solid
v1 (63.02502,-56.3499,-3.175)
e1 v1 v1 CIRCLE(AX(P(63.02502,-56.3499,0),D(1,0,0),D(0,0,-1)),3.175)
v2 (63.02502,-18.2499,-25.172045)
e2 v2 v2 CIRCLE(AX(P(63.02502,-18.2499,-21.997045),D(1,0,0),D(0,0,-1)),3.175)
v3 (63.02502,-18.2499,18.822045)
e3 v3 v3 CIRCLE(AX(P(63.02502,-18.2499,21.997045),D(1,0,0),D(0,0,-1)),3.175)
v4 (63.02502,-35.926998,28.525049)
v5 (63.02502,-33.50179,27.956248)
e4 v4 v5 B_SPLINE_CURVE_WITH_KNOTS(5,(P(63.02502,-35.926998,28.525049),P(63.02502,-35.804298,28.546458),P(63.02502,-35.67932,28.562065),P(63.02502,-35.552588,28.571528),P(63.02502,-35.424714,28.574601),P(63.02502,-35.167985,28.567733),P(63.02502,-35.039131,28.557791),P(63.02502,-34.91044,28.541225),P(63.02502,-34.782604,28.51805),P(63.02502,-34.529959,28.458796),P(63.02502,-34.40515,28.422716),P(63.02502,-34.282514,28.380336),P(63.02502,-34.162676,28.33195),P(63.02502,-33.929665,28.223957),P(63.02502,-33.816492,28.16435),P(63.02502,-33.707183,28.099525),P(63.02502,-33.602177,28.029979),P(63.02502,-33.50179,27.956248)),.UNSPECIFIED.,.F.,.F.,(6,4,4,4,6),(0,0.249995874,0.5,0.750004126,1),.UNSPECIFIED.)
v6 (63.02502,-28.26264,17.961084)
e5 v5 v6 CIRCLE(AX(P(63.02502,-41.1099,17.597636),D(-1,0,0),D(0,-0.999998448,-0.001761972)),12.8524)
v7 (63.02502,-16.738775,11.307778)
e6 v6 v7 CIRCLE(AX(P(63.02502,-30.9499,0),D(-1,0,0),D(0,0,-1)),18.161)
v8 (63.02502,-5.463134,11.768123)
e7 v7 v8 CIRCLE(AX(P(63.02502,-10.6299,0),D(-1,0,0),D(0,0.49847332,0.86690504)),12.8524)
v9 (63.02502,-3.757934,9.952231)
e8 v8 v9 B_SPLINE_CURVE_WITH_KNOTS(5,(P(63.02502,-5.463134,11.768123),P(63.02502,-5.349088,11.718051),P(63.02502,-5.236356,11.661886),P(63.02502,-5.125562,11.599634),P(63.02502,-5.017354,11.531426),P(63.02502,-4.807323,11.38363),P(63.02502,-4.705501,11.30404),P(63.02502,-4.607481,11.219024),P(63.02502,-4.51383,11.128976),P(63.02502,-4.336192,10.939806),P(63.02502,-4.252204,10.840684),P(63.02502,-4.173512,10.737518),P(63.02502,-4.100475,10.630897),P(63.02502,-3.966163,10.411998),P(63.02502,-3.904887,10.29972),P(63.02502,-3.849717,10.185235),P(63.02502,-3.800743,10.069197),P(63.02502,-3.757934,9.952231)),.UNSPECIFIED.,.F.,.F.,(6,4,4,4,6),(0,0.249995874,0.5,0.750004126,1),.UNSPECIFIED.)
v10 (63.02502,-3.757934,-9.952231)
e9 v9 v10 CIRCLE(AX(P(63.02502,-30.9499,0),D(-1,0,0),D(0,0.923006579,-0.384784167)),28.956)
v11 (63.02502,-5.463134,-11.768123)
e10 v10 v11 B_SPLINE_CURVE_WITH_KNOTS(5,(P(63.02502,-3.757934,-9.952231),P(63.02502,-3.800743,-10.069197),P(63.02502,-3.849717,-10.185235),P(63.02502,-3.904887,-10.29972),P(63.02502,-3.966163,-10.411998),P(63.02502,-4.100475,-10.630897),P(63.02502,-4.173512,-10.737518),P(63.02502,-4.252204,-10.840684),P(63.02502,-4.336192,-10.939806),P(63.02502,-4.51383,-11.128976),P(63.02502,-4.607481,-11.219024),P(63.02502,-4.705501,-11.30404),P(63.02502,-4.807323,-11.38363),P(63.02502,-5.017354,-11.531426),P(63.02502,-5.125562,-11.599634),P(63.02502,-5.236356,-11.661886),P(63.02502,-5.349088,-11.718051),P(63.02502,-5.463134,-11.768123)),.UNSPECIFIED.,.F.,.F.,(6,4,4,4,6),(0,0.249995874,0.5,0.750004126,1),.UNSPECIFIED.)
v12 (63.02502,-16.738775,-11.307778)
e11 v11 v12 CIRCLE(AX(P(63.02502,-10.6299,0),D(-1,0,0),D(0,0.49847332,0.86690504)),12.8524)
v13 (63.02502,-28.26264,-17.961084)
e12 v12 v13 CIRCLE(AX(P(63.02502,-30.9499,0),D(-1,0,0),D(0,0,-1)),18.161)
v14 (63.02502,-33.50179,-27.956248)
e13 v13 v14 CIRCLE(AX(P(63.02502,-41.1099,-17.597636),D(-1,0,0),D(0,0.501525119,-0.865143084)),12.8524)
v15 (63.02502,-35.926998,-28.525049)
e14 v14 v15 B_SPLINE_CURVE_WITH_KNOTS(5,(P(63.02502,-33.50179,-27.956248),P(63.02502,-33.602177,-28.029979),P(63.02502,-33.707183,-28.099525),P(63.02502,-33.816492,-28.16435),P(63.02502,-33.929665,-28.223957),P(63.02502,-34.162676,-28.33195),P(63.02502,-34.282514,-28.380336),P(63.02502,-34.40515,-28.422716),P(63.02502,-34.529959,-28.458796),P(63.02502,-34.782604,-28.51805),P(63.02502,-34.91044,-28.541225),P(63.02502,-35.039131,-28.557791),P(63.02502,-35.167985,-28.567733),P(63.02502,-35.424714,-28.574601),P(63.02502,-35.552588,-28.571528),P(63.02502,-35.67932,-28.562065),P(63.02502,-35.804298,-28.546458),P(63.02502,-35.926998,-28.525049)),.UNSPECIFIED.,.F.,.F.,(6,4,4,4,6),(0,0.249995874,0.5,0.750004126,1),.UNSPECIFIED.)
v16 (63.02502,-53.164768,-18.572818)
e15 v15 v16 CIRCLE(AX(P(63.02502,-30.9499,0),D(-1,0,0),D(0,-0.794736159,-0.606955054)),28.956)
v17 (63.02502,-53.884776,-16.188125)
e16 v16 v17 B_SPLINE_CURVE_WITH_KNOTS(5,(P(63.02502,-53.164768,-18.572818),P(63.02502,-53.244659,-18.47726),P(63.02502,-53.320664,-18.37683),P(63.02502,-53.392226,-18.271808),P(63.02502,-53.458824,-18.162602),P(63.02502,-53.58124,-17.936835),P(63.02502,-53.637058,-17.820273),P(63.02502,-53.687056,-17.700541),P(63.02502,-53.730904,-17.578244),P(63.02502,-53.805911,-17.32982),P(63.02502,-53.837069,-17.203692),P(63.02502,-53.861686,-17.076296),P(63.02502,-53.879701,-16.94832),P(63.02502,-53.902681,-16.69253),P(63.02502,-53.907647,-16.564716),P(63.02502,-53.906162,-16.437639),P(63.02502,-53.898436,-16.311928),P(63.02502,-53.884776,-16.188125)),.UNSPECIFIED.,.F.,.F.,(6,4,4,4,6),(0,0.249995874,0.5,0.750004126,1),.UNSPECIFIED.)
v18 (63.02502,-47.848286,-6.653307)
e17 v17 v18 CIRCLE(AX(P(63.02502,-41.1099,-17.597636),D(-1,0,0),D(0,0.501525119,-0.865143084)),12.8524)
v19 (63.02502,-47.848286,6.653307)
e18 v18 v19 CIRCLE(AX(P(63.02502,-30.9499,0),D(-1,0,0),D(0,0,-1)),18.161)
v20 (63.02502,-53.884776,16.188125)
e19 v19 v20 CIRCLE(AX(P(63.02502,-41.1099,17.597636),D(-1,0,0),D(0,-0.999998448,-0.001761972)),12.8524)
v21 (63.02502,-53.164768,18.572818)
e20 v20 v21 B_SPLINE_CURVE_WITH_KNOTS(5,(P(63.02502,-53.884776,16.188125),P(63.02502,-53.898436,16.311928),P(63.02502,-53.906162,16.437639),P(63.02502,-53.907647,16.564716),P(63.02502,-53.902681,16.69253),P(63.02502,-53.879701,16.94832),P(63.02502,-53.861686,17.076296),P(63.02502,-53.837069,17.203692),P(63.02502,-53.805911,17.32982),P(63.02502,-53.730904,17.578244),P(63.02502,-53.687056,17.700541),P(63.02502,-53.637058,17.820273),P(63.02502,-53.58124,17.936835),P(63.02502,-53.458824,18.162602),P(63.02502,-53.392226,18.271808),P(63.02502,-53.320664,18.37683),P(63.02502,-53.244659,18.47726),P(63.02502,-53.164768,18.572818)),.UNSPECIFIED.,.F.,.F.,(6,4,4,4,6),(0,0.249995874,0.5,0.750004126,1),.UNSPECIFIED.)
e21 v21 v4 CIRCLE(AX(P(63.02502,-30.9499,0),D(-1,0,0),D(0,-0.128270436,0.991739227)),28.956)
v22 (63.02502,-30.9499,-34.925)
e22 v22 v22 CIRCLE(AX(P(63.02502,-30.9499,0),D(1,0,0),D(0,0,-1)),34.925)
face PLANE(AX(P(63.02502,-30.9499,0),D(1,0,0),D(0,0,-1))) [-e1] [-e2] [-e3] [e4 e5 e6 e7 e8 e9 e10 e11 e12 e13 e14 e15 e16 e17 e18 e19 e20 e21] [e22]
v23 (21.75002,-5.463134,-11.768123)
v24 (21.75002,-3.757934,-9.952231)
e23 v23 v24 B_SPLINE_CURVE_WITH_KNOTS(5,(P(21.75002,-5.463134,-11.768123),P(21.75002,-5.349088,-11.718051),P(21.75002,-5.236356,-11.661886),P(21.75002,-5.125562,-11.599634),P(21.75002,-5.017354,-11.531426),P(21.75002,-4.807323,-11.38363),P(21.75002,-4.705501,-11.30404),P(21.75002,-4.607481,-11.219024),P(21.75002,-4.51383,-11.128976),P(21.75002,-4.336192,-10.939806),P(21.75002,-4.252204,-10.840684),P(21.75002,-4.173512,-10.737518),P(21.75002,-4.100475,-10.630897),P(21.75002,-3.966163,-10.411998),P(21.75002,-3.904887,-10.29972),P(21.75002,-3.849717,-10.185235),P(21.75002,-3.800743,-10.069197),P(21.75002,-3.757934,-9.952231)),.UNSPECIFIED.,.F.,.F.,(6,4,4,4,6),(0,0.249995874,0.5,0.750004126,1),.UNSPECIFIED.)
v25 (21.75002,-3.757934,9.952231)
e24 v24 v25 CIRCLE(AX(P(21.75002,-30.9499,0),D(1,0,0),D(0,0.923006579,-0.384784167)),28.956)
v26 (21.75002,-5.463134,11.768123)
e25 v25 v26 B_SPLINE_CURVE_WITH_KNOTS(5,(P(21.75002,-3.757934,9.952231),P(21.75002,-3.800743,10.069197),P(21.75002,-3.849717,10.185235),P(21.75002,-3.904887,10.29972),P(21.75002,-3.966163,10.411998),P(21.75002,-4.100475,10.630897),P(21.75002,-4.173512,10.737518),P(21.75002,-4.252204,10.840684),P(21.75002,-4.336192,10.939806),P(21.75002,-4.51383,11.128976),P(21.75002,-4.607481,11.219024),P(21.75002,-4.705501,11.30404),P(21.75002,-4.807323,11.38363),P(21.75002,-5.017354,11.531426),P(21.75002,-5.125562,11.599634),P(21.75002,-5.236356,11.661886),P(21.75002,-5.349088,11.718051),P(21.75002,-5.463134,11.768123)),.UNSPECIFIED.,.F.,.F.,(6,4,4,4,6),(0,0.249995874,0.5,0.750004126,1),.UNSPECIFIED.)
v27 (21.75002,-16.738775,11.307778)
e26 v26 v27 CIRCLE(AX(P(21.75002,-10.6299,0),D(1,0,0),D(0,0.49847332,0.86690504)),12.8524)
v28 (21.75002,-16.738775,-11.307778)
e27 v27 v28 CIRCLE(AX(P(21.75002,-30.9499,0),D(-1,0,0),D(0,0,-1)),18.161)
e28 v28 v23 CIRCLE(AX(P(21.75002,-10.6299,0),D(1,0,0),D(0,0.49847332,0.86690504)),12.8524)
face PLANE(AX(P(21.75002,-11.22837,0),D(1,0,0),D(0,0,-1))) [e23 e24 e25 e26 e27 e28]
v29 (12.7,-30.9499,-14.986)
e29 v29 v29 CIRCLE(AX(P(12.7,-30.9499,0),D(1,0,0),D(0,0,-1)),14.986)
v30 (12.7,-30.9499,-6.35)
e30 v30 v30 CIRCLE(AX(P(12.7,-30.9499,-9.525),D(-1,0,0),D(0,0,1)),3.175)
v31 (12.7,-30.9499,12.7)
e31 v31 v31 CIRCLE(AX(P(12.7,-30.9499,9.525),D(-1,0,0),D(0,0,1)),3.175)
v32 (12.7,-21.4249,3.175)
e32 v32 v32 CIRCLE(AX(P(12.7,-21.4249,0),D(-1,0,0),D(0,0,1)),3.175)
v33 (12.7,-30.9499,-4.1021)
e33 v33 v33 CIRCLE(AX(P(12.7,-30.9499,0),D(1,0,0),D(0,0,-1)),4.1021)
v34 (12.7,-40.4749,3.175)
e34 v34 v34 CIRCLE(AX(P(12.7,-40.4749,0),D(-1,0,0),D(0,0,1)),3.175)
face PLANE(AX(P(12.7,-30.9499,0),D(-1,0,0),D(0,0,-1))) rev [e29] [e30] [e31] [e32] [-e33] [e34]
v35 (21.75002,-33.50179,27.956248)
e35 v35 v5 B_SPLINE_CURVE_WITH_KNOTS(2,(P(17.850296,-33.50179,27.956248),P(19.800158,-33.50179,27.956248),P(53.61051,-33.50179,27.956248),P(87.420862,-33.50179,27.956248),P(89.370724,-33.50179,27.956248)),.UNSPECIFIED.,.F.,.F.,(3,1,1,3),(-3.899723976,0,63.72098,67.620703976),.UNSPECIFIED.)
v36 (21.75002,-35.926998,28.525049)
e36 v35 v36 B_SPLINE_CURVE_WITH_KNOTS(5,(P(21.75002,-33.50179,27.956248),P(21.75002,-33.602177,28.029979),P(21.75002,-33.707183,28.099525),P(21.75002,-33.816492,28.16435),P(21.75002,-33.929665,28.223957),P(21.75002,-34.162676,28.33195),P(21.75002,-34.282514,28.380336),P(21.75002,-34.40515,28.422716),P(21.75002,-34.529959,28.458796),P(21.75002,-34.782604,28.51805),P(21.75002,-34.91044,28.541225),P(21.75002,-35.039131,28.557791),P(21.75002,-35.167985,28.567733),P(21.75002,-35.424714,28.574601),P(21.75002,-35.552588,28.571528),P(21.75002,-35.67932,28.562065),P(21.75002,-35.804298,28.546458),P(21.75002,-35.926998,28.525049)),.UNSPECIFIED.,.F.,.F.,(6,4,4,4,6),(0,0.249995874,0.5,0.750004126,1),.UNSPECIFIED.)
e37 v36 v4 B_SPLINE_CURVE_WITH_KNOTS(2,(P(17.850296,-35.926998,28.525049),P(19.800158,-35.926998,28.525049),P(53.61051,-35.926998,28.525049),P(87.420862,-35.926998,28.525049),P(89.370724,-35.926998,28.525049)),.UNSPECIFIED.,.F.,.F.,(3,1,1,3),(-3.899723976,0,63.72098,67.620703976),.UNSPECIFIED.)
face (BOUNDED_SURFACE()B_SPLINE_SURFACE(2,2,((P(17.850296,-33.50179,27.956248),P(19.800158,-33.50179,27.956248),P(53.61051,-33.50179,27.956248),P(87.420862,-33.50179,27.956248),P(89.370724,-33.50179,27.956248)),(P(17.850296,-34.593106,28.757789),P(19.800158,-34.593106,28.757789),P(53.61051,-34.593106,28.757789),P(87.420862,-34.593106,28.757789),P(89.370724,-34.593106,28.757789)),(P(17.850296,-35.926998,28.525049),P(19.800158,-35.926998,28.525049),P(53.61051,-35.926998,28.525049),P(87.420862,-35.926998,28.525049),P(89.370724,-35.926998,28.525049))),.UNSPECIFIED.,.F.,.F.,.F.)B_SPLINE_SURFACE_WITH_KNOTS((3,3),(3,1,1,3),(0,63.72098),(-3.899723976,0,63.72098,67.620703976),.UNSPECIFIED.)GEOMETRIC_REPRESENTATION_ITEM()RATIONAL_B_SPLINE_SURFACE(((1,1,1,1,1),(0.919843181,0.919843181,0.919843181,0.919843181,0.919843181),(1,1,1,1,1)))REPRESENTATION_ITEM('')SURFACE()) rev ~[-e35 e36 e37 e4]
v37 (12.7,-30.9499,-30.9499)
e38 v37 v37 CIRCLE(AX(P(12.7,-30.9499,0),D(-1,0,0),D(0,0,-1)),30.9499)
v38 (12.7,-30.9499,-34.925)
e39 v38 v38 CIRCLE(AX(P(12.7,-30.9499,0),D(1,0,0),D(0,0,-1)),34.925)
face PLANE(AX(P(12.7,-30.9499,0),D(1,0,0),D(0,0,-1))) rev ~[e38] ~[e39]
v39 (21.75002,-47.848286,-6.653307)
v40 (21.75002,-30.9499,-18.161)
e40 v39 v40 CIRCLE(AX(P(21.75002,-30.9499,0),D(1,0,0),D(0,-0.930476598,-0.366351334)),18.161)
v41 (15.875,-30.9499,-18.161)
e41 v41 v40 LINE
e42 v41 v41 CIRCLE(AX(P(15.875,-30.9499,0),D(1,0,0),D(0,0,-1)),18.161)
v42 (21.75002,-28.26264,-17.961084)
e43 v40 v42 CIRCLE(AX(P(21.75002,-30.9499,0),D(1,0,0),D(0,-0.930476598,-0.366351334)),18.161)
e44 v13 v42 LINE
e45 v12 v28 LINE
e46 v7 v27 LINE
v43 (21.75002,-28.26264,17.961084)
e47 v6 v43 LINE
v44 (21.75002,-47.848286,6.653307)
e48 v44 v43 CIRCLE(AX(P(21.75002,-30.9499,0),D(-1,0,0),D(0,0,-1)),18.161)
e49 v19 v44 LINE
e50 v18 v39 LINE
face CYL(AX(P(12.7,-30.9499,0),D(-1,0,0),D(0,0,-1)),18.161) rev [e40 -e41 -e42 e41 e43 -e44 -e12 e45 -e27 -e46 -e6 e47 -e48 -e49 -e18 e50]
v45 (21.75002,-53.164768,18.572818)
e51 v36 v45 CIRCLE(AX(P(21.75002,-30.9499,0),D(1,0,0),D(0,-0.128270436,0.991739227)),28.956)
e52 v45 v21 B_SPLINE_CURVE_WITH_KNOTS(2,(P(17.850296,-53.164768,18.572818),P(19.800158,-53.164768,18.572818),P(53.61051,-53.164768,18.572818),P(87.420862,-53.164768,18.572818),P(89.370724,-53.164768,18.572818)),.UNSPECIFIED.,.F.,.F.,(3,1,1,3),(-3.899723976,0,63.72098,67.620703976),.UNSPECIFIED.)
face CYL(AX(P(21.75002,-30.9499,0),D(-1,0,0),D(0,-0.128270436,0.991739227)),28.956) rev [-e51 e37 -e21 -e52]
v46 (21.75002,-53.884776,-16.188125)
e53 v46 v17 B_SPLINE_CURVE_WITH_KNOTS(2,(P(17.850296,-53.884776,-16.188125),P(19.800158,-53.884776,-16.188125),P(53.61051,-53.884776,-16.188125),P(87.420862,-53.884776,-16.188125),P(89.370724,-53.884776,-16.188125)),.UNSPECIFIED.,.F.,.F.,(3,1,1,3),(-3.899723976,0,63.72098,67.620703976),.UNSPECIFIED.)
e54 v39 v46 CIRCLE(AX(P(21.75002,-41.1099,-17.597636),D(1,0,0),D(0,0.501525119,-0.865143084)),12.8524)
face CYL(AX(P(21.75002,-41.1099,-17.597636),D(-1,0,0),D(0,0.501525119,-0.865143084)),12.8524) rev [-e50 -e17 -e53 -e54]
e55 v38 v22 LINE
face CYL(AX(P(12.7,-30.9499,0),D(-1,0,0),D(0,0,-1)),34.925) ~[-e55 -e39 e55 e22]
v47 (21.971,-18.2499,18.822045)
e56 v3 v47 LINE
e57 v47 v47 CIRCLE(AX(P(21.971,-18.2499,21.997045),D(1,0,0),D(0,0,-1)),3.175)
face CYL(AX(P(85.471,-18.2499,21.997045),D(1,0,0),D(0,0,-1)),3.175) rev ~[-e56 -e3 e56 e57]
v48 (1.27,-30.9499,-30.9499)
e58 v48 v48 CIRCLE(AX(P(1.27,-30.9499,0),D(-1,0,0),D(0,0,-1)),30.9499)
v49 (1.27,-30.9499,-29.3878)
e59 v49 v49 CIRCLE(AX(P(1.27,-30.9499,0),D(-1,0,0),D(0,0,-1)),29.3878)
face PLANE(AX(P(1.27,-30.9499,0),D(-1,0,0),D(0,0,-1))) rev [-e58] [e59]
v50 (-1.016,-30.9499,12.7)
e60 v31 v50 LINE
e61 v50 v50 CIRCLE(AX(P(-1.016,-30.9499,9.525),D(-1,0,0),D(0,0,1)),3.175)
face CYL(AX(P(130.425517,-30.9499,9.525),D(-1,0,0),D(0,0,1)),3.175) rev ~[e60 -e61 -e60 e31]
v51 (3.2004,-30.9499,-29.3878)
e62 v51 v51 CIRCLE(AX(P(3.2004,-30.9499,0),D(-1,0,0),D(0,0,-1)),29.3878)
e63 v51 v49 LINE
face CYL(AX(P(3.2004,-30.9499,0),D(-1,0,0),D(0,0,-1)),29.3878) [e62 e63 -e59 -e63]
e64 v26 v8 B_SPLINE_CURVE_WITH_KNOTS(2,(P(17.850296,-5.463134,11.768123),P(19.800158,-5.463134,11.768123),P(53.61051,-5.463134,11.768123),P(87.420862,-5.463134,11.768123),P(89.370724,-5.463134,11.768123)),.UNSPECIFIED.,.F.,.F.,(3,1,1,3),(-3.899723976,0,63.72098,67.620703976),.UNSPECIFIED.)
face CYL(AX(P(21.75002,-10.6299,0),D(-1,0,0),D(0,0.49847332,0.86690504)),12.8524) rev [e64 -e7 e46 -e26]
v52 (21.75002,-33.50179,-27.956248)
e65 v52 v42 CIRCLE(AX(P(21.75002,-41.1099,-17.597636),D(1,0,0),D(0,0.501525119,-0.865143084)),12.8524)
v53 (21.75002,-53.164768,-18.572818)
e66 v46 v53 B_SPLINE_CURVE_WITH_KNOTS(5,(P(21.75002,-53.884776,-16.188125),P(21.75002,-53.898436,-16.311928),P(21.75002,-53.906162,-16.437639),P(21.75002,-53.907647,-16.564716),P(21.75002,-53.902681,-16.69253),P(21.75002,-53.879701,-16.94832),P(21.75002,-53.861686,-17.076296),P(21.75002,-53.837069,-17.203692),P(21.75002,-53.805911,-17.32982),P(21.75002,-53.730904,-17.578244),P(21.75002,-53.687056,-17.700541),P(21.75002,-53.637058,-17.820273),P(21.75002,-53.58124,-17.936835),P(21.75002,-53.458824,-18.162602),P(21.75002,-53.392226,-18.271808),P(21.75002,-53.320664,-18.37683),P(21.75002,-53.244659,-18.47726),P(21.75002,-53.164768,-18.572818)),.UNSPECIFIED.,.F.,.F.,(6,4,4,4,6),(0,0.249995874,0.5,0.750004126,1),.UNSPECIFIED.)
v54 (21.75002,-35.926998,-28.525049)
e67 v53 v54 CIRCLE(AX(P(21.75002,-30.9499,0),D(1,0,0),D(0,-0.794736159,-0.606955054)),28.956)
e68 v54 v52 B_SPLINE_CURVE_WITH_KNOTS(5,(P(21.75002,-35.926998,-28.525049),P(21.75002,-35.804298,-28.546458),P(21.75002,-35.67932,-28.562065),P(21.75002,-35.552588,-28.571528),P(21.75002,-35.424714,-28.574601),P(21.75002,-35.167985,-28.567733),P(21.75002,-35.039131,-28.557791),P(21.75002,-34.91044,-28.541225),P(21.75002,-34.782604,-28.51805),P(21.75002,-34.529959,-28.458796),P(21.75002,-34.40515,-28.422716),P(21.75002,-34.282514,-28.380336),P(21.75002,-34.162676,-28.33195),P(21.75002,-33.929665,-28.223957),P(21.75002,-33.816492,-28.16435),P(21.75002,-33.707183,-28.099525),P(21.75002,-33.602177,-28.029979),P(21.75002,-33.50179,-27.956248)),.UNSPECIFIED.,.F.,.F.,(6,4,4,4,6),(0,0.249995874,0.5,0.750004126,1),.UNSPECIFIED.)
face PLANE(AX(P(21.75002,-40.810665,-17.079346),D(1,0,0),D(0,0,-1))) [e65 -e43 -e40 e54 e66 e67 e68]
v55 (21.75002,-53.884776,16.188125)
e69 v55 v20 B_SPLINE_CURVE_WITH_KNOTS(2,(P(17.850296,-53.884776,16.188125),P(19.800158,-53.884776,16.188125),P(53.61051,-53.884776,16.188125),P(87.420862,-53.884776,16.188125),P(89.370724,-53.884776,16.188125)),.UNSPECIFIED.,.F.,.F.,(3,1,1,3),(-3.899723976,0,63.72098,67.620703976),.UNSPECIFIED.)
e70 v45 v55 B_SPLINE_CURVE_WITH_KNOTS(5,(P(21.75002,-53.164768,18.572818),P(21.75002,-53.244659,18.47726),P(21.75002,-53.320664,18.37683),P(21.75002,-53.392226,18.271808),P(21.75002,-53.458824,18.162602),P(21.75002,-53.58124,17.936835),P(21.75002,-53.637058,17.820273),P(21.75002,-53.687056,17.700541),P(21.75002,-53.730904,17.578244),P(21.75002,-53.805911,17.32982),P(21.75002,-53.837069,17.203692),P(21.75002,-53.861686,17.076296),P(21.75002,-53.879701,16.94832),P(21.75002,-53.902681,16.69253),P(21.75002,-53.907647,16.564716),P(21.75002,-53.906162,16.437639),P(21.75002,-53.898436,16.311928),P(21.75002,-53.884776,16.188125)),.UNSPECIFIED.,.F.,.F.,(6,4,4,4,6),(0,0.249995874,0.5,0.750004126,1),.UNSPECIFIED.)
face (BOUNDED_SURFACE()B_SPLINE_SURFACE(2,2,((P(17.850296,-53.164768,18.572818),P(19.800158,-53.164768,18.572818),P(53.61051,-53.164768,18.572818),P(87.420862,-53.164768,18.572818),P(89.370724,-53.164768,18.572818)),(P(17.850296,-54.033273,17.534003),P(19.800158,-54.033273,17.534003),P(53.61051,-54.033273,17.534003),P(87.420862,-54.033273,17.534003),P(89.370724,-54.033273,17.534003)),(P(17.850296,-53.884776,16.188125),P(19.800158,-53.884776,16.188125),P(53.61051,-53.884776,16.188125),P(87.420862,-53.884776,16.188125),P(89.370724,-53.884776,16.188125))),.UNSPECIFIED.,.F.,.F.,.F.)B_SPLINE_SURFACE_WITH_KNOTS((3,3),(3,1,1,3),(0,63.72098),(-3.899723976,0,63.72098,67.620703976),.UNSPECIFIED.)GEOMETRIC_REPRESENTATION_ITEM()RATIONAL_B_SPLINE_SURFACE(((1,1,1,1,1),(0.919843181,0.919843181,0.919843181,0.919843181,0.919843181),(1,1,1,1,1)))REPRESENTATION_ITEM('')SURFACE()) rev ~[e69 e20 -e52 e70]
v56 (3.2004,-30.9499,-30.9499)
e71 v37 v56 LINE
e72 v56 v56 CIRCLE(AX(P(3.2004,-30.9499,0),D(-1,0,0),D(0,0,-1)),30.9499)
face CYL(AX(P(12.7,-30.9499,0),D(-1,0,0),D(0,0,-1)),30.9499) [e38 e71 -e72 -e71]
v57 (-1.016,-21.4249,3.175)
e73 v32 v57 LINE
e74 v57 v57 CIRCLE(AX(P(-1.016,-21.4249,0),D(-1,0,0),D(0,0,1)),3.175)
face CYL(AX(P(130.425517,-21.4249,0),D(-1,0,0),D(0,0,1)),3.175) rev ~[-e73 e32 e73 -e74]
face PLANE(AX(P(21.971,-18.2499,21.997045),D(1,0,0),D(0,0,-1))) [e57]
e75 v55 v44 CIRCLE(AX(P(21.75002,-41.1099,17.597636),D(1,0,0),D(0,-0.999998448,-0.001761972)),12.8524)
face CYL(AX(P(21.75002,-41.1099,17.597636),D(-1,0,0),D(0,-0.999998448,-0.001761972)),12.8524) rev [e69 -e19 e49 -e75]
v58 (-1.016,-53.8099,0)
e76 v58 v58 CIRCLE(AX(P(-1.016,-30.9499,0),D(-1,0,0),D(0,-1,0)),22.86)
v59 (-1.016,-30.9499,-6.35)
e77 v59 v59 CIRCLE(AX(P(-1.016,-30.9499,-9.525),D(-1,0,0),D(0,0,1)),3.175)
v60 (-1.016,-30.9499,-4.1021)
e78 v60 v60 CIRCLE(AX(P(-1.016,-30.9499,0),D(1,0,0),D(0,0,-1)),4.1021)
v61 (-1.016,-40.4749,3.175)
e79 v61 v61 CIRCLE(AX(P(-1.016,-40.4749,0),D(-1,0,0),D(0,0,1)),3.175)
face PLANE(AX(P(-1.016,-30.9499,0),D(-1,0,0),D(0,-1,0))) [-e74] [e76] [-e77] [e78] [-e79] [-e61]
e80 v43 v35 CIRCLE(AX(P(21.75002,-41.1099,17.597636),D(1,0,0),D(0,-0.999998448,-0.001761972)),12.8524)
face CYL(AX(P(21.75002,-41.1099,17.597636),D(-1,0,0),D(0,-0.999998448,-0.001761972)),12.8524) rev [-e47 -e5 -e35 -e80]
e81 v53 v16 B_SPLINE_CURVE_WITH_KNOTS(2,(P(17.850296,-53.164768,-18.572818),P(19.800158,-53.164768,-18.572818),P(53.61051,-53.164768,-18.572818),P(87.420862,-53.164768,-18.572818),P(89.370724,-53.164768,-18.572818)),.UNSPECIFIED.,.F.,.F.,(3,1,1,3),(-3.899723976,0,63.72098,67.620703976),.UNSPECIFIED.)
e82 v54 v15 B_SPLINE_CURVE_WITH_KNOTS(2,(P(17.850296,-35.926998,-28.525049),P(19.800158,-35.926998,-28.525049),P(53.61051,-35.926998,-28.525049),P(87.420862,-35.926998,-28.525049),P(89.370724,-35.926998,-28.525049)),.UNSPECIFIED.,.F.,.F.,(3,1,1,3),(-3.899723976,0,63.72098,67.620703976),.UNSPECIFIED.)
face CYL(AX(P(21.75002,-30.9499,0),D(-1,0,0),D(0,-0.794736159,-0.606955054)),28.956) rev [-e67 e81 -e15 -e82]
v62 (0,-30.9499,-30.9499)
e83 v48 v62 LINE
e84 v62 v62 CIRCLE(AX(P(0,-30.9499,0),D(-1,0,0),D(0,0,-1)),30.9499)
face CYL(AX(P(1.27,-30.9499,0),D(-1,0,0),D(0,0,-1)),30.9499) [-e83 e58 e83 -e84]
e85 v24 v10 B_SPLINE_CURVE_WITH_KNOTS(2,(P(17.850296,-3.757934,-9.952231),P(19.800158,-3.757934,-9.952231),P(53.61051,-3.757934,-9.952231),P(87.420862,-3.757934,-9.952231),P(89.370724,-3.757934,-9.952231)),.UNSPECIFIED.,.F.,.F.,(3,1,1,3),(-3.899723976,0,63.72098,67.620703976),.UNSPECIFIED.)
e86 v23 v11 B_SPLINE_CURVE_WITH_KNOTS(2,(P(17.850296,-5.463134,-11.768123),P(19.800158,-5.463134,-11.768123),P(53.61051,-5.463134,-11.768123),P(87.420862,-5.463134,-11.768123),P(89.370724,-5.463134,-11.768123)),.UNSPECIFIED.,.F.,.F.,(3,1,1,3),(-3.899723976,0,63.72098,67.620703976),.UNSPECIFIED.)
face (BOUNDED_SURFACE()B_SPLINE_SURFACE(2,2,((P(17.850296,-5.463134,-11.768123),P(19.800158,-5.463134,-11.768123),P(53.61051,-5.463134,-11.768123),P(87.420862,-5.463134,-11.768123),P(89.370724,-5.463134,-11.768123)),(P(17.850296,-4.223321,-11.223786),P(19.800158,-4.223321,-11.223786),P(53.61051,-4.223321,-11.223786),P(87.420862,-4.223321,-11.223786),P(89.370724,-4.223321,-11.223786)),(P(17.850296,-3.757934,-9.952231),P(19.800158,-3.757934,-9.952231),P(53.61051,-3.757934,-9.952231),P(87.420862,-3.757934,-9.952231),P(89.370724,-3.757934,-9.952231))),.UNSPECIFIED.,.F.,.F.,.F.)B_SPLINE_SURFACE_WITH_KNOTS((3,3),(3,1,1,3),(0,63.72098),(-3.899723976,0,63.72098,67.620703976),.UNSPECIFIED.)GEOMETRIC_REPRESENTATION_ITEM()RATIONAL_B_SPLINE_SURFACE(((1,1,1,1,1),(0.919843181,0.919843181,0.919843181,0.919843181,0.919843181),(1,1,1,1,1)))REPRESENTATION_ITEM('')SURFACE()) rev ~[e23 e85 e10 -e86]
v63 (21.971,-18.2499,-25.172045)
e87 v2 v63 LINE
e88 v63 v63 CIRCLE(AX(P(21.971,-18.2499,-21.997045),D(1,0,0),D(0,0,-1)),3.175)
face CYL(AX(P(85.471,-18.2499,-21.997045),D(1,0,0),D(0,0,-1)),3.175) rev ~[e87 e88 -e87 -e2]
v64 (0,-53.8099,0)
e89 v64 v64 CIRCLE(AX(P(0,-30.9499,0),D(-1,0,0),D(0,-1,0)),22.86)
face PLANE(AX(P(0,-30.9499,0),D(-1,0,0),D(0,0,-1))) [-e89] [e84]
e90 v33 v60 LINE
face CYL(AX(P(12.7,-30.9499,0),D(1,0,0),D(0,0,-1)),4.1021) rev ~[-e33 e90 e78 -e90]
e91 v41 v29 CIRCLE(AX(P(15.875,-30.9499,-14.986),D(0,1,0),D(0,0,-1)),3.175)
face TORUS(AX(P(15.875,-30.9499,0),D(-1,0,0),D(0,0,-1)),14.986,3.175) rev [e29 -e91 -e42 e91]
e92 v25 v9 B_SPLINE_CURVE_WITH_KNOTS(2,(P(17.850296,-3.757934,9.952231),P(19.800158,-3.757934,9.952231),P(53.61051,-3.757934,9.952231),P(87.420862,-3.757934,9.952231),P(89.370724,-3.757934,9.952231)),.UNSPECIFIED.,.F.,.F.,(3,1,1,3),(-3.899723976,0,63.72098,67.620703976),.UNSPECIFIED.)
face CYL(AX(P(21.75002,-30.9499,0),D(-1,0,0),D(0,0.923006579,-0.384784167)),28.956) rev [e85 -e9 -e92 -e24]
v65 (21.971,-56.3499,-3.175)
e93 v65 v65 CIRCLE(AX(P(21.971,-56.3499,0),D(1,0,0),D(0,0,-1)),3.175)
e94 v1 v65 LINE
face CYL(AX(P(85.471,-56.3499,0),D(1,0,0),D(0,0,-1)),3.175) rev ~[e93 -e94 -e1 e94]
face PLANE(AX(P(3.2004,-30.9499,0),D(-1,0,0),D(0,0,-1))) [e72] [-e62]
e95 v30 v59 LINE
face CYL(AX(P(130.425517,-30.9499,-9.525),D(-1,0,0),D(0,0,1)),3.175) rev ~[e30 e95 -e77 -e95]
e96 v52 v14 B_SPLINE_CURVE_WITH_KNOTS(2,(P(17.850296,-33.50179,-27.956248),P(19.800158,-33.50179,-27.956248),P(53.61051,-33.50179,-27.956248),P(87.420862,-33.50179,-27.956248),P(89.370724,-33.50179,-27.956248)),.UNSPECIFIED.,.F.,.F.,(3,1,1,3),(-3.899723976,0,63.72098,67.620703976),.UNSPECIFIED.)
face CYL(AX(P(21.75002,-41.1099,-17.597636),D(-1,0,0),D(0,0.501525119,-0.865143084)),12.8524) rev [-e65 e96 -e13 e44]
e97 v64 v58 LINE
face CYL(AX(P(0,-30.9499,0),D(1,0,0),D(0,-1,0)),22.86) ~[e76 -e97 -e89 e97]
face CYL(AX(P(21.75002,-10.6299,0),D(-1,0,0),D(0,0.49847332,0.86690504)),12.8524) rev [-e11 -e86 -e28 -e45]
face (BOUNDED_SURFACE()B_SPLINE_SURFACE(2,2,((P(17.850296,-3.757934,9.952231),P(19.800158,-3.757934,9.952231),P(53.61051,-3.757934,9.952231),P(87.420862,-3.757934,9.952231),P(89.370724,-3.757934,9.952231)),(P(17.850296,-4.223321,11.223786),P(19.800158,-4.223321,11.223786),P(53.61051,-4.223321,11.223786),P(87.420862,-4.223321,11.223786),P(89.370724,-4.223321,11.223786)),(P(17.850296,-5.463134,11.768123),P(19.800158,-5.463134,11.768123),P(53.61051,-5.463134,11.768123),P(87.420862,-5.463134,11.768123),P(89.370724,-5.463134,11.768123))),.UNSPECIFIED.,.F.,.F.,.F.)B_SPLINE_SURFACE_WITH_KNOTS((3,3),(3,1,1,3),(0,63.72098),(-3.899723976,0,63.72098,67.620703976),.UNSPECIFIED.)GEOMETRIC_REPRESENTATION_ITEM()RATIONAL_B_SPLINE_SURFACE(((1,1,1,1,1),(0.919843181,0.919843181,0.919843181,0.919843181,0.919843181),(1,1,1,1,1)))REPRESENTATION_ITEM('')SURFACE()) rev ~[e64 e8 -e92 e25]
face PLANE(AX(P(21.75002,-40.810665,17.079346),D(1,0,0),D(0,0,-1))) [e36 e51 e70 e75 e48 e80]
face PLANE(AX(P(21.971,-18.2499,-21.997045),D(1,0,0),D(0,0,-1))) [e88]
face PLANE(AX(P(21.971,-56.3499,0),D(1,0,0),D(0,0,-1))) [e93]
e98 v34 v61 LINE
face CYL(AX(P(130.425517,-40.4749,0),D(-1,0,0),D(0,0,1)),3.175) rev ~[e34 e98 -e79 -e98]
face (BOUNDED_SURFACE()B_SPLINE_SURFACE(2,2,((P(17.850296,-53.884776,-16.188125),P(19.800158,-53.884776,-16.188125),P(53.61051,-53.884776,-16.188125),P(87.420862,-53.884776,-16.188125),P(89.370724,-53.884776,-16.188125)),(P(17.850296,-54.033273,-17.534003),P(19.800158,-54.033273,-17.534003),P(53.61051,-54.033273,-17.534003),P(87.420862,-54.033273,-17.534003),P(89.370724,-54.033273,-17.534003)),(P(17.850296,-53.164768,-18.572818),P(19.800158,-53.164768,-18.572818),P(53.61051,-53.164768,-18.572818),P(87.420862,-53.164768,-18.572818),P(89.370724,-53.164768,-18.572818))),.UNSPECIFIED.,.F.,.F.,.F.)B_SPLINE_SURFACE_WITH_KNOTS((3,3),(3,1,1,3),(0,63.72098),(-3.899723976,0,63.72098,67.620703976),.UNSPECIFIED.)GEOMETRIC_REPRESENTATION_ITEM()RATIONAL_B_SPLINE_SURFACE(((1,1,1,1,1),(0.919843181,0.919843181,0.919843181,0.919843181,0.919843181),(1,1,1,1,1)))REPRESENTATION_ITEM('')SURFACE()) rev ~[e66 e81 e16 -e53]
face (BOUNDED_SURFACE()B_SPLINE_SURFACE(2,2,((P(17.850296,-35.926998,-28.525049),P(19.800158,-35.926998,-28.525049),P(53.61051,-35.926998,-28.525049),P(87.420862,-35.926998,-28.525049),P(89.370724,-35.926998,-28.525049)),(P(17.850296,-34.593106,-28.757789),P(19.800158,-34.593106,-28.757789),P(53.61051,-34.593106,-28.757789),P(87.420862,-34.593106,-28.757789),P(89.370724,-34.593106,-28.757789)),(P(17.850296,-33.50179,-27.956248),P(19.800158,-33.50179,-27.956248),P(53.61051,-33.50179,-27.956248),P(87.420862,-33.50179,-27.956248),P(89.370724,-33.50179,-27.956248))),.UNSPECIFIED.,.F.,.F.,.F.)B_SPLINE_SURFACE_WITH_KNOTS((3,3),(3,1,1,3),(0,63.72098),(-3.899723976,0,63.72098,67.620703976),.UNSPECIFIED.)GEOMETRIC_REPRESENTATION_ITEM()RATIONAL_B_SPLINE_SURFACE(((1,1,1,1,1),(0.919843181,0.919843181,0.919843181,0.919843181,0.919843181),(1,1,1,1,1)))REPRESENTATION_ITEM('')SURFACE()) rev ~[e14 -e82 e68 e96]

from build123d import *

# Parameters (mm, degrees)
SKETCH4_R                  = 34.925
SKETCH4_R_2                = 18.161
BOSS_EXTRUDE1_DEPTH        = 72.771
CUT_EXTRUDE2_REACH         = 137.172
CUT_EXTRUDE2_START         = 21.75002
TRIPOD_WALLS_R             = 3.175
BOLT_HOLE_FACE_R           = 3.175
SKETCH12_R                 = 3.175
CUT_EXTRUDE3_DEPTH         = 63.5
CUT_EXTRUDE4_START         = -22.44598
SKETCH13_R                 = 34.925
CUT_EXTRUDE4_DEPTH         = 22.44598
SKETCH16_R                 = 22.86
COMPENSATING_SPACING_DEPTH = 1.016
F_1_4_0_2500_DOWEL_HOLE1_D = 6.35
BOLT_CIRCLE_PATTERN_2_R    = 4.1021
F_5_16_CLEARNCE_DEPTH      = 13.716


with BuildPart() as part:
    # Sketch2 → Revolve1 (revolve)
    with BuildSketch(Plane.XY, mode=Mode.PRIVATE) as revolve1_sk:
        Polygon((0, 0), (0, -30.9499), (12.7, -30.9499), (12.7, 0), (3.2004, 0), (3.2004, -1.5621), (1.27, -1.5621), (1.27, 0), align=None)
    revolve(revolve1_sk.sketch.rotate(Axis((11.964521893, -30.9499, 0), (-1, 0, 0)), 90), axis=Axis((11.964521893, -30.9499, 0), (-1, 0, 0)))

    # Sketch4 → Boss-Extrude1 (add)
    with BuildSketch(Plane(origin=(12.7, 0, 0), x_dir=(0, 0, -1), z_dir=(1, 0, 0))):
        with Locations((0, -30.9499)):
            Circle(SKETCH4_R)
        with Locations((0, -30.9499)):
            Circle(SKETCH4_R_2, mode=Mode.SUBTRACT)
    extrude(amount=BOSS_EXTRUDE1_DEPTH)

    # Sketch5 → Cut-Extrude2 (cut, up to next)
    with BuildSketch(Plane(origin=(0, 0, 0), x_dir=(0, 0, -1), z_dir=(1, 0, 0)).offset(CUT_EXTRUDE2_START), mode=Mode.PRIVATE) as cut_extrude2_sk1:
        with BuildLine():
            ThreePointArc((-11.141810341, -4.2233215), (0, -23.4823), (11.141810341, -4.2233215))
            ThreePointArc((11.141810341, -4.2233215), (0, -1.9939), (-11.141810341, -4.2233215))
        make_face()
    cut_extrude2_tool1 = extrude(cut_extrude2_sk1.sketch, amount=CUT_EXTRUDE2_REACH, mode=Mode.PRIVATE) & part.part
    # Sketch5 → Cut-Extrude2 (cut, up to next)
    with BuildSketch(Plane(origin=(0, 0, 0), x_dir=(0, 0, -1), z_dir=(1, 0, 0)).offset(CUT_EXTRUDE2_START), mode=Mode.PRIVATE) as cut_extrude2_sk2:
        with BuildLine():
            ThreePointArc((-28.716801071, -34.664098733), (-25.076631449, -45.427900247), (-17.57499054, -53.962280223))
            ThreePointArc((-17.57499054, -53.962280223), (-6.467131268, -34.683700064), (-28.716801071, -34.664098733))
        make_face()
    cut_extrude2_tool2 = extrude(cut_extrude2_sk2.sketch, amount=CUT_EXTRUDE2_REACH, mode=Mode.PRIVATE) & part.part
    # Sketch5 → Cut-Extrude2 (cut, up to next)
    with BuildSketch(Plane(origin=(0, 0, 0), x_dir=(0, 0, -1), z_dir=(1, 0, 0)).offset(CUT_EXTRUDE2_START), mode=Mode.PRIVATE) as cut_extrude2_sk3:
        with BuildLine():
            ThreePointArc((28.716801071, -34.664098733), (6.467131268, -34.683700064), (17.57499054, -53.962280223))
            ThreePointArc((17.57499054, -53.962280223), (25.076631449, -45.427900247), (28.716801071, -34.664098733))
        make_face()
    cut_extrude2_tool3 = extrude(cut_extrude2_sk3.sketch, amount=CUT_EXTRUDE2_REACH, mode=Mode.PRIVATE) & part.part
    add(cut_extrude2_tool1.solids().sort_by_distance((21.75002, -12.135894, 0))[0], mode=Mode.SUBTRACT)
    add(cut_extrude2_tool2.solids().sort_by_distance((21.75002, -40.356903, 16.293407))[0], mode=Mode.SUBTRACT)
    add(cut_extrude2_tool3.solids().sort_by_distance((21.75002, -40.356903, -16.293407))[0], mode=Mode.SUBTRACT)

    # Tripod walls
    tripod_walls_edges = [part.edges().sort_by_distance(p)[0] for p in [
        (53.61051, -4.2233215, 11.141810341),
        (53.61051, -4.2233215, -11.141810341),
        (53.61051, -53.962280223, 17.57499054),
        (53.61051, -34.664098733, 28.716801071),
        (53.61051, -34.664098733, -28.716801071),
        (53.61051, -53.962280223, -17.57499054),
    ]]
    fillet(tripod_walls_edges, radius=TRIPOD_WALLS_R)

    # Bolt Hole Face
    bolt_hole_face_edges = [part.edges().sort_by_distance(p)[0] for p in [
        (12.7, -30.9499, 18.161),
    ]]
    fillet(bolt_hole_face_edges, radius=BOLT_HOLE_FACE_R)

    # Sketch12 → Cut-Extrude3 (cut)
    with BuildSketch(Plane(origin=(85.471, 0, 0), x_dir=(0, 0, -1), z_dir=(1, 0, 0))):
        with Locations((-21.997045256, -18.2499)):
            Circle(SKETCH12_R)
        with Locations((21.997045256, -18.2499)):
            Circle(SKETCH12_R)
        with Locations((0, -56.3499)):
            Circle(SKETCH12_R)
    extrude(amount=-CUT_EXTRUDE3_DEPTH, mode=Mode.SUBTRACT)

    # Sketch13 → Cut-Extrude4 (cut)
    with BuildSketch(Plane(origin=(85.471, 0, 0), x_dir=(0, 0, -1), z_dir=(1, 0, 0)).offset(CUT_EXTRUDE4_START)):
        with Locations((0, -30.9499)):
            Circle(SKETCH13_R)
    extrude(amount=CUT_EXTRUDE4_DEPTH, mode=Mode.SUBTRACT)

    # Sketch16 → Compensating Spacing (add)
    with BuildSketch(Plane.ZY):
        with Locations(Location((0, -30.9499, 0), (0, 0, 270))):
            Circle(SKETCH16_R)
    extrude(amount=COMPENSATING_SPACING_DEPTH)

    # 1/4 (0.2500) Dowel Hole1 (through all)
    with Locations(Plane(origin=(12.7, 0, 0), x_dir=(0, 0, -1), z_dir=(1, 0, 0))):
        with Locations((0, -21.4249), (9.525, -30.9499), (0, -40.4749), (-9.525, -30.9499)):
            Hole(F_1_4_0_2500_DOWEL_HOLE1_D / 2)

    # Bolt Circle Pattern<2> → 5/16 Clearnce (cut)
    with BuildSketch(Plane(origin=(12.7, 0, 0), x_dir=(0, 0, -1), z_dir=(1, 0, 0))):
        with Locations((0, -30.9499)):
            Circle(BOLT_CIRCLE_PATTERN_2_R)
    extrude(amount=-F_5_16_CLEARNCE_DEPTH, mode=Mode.SUBTRACT)


solid = part.part
